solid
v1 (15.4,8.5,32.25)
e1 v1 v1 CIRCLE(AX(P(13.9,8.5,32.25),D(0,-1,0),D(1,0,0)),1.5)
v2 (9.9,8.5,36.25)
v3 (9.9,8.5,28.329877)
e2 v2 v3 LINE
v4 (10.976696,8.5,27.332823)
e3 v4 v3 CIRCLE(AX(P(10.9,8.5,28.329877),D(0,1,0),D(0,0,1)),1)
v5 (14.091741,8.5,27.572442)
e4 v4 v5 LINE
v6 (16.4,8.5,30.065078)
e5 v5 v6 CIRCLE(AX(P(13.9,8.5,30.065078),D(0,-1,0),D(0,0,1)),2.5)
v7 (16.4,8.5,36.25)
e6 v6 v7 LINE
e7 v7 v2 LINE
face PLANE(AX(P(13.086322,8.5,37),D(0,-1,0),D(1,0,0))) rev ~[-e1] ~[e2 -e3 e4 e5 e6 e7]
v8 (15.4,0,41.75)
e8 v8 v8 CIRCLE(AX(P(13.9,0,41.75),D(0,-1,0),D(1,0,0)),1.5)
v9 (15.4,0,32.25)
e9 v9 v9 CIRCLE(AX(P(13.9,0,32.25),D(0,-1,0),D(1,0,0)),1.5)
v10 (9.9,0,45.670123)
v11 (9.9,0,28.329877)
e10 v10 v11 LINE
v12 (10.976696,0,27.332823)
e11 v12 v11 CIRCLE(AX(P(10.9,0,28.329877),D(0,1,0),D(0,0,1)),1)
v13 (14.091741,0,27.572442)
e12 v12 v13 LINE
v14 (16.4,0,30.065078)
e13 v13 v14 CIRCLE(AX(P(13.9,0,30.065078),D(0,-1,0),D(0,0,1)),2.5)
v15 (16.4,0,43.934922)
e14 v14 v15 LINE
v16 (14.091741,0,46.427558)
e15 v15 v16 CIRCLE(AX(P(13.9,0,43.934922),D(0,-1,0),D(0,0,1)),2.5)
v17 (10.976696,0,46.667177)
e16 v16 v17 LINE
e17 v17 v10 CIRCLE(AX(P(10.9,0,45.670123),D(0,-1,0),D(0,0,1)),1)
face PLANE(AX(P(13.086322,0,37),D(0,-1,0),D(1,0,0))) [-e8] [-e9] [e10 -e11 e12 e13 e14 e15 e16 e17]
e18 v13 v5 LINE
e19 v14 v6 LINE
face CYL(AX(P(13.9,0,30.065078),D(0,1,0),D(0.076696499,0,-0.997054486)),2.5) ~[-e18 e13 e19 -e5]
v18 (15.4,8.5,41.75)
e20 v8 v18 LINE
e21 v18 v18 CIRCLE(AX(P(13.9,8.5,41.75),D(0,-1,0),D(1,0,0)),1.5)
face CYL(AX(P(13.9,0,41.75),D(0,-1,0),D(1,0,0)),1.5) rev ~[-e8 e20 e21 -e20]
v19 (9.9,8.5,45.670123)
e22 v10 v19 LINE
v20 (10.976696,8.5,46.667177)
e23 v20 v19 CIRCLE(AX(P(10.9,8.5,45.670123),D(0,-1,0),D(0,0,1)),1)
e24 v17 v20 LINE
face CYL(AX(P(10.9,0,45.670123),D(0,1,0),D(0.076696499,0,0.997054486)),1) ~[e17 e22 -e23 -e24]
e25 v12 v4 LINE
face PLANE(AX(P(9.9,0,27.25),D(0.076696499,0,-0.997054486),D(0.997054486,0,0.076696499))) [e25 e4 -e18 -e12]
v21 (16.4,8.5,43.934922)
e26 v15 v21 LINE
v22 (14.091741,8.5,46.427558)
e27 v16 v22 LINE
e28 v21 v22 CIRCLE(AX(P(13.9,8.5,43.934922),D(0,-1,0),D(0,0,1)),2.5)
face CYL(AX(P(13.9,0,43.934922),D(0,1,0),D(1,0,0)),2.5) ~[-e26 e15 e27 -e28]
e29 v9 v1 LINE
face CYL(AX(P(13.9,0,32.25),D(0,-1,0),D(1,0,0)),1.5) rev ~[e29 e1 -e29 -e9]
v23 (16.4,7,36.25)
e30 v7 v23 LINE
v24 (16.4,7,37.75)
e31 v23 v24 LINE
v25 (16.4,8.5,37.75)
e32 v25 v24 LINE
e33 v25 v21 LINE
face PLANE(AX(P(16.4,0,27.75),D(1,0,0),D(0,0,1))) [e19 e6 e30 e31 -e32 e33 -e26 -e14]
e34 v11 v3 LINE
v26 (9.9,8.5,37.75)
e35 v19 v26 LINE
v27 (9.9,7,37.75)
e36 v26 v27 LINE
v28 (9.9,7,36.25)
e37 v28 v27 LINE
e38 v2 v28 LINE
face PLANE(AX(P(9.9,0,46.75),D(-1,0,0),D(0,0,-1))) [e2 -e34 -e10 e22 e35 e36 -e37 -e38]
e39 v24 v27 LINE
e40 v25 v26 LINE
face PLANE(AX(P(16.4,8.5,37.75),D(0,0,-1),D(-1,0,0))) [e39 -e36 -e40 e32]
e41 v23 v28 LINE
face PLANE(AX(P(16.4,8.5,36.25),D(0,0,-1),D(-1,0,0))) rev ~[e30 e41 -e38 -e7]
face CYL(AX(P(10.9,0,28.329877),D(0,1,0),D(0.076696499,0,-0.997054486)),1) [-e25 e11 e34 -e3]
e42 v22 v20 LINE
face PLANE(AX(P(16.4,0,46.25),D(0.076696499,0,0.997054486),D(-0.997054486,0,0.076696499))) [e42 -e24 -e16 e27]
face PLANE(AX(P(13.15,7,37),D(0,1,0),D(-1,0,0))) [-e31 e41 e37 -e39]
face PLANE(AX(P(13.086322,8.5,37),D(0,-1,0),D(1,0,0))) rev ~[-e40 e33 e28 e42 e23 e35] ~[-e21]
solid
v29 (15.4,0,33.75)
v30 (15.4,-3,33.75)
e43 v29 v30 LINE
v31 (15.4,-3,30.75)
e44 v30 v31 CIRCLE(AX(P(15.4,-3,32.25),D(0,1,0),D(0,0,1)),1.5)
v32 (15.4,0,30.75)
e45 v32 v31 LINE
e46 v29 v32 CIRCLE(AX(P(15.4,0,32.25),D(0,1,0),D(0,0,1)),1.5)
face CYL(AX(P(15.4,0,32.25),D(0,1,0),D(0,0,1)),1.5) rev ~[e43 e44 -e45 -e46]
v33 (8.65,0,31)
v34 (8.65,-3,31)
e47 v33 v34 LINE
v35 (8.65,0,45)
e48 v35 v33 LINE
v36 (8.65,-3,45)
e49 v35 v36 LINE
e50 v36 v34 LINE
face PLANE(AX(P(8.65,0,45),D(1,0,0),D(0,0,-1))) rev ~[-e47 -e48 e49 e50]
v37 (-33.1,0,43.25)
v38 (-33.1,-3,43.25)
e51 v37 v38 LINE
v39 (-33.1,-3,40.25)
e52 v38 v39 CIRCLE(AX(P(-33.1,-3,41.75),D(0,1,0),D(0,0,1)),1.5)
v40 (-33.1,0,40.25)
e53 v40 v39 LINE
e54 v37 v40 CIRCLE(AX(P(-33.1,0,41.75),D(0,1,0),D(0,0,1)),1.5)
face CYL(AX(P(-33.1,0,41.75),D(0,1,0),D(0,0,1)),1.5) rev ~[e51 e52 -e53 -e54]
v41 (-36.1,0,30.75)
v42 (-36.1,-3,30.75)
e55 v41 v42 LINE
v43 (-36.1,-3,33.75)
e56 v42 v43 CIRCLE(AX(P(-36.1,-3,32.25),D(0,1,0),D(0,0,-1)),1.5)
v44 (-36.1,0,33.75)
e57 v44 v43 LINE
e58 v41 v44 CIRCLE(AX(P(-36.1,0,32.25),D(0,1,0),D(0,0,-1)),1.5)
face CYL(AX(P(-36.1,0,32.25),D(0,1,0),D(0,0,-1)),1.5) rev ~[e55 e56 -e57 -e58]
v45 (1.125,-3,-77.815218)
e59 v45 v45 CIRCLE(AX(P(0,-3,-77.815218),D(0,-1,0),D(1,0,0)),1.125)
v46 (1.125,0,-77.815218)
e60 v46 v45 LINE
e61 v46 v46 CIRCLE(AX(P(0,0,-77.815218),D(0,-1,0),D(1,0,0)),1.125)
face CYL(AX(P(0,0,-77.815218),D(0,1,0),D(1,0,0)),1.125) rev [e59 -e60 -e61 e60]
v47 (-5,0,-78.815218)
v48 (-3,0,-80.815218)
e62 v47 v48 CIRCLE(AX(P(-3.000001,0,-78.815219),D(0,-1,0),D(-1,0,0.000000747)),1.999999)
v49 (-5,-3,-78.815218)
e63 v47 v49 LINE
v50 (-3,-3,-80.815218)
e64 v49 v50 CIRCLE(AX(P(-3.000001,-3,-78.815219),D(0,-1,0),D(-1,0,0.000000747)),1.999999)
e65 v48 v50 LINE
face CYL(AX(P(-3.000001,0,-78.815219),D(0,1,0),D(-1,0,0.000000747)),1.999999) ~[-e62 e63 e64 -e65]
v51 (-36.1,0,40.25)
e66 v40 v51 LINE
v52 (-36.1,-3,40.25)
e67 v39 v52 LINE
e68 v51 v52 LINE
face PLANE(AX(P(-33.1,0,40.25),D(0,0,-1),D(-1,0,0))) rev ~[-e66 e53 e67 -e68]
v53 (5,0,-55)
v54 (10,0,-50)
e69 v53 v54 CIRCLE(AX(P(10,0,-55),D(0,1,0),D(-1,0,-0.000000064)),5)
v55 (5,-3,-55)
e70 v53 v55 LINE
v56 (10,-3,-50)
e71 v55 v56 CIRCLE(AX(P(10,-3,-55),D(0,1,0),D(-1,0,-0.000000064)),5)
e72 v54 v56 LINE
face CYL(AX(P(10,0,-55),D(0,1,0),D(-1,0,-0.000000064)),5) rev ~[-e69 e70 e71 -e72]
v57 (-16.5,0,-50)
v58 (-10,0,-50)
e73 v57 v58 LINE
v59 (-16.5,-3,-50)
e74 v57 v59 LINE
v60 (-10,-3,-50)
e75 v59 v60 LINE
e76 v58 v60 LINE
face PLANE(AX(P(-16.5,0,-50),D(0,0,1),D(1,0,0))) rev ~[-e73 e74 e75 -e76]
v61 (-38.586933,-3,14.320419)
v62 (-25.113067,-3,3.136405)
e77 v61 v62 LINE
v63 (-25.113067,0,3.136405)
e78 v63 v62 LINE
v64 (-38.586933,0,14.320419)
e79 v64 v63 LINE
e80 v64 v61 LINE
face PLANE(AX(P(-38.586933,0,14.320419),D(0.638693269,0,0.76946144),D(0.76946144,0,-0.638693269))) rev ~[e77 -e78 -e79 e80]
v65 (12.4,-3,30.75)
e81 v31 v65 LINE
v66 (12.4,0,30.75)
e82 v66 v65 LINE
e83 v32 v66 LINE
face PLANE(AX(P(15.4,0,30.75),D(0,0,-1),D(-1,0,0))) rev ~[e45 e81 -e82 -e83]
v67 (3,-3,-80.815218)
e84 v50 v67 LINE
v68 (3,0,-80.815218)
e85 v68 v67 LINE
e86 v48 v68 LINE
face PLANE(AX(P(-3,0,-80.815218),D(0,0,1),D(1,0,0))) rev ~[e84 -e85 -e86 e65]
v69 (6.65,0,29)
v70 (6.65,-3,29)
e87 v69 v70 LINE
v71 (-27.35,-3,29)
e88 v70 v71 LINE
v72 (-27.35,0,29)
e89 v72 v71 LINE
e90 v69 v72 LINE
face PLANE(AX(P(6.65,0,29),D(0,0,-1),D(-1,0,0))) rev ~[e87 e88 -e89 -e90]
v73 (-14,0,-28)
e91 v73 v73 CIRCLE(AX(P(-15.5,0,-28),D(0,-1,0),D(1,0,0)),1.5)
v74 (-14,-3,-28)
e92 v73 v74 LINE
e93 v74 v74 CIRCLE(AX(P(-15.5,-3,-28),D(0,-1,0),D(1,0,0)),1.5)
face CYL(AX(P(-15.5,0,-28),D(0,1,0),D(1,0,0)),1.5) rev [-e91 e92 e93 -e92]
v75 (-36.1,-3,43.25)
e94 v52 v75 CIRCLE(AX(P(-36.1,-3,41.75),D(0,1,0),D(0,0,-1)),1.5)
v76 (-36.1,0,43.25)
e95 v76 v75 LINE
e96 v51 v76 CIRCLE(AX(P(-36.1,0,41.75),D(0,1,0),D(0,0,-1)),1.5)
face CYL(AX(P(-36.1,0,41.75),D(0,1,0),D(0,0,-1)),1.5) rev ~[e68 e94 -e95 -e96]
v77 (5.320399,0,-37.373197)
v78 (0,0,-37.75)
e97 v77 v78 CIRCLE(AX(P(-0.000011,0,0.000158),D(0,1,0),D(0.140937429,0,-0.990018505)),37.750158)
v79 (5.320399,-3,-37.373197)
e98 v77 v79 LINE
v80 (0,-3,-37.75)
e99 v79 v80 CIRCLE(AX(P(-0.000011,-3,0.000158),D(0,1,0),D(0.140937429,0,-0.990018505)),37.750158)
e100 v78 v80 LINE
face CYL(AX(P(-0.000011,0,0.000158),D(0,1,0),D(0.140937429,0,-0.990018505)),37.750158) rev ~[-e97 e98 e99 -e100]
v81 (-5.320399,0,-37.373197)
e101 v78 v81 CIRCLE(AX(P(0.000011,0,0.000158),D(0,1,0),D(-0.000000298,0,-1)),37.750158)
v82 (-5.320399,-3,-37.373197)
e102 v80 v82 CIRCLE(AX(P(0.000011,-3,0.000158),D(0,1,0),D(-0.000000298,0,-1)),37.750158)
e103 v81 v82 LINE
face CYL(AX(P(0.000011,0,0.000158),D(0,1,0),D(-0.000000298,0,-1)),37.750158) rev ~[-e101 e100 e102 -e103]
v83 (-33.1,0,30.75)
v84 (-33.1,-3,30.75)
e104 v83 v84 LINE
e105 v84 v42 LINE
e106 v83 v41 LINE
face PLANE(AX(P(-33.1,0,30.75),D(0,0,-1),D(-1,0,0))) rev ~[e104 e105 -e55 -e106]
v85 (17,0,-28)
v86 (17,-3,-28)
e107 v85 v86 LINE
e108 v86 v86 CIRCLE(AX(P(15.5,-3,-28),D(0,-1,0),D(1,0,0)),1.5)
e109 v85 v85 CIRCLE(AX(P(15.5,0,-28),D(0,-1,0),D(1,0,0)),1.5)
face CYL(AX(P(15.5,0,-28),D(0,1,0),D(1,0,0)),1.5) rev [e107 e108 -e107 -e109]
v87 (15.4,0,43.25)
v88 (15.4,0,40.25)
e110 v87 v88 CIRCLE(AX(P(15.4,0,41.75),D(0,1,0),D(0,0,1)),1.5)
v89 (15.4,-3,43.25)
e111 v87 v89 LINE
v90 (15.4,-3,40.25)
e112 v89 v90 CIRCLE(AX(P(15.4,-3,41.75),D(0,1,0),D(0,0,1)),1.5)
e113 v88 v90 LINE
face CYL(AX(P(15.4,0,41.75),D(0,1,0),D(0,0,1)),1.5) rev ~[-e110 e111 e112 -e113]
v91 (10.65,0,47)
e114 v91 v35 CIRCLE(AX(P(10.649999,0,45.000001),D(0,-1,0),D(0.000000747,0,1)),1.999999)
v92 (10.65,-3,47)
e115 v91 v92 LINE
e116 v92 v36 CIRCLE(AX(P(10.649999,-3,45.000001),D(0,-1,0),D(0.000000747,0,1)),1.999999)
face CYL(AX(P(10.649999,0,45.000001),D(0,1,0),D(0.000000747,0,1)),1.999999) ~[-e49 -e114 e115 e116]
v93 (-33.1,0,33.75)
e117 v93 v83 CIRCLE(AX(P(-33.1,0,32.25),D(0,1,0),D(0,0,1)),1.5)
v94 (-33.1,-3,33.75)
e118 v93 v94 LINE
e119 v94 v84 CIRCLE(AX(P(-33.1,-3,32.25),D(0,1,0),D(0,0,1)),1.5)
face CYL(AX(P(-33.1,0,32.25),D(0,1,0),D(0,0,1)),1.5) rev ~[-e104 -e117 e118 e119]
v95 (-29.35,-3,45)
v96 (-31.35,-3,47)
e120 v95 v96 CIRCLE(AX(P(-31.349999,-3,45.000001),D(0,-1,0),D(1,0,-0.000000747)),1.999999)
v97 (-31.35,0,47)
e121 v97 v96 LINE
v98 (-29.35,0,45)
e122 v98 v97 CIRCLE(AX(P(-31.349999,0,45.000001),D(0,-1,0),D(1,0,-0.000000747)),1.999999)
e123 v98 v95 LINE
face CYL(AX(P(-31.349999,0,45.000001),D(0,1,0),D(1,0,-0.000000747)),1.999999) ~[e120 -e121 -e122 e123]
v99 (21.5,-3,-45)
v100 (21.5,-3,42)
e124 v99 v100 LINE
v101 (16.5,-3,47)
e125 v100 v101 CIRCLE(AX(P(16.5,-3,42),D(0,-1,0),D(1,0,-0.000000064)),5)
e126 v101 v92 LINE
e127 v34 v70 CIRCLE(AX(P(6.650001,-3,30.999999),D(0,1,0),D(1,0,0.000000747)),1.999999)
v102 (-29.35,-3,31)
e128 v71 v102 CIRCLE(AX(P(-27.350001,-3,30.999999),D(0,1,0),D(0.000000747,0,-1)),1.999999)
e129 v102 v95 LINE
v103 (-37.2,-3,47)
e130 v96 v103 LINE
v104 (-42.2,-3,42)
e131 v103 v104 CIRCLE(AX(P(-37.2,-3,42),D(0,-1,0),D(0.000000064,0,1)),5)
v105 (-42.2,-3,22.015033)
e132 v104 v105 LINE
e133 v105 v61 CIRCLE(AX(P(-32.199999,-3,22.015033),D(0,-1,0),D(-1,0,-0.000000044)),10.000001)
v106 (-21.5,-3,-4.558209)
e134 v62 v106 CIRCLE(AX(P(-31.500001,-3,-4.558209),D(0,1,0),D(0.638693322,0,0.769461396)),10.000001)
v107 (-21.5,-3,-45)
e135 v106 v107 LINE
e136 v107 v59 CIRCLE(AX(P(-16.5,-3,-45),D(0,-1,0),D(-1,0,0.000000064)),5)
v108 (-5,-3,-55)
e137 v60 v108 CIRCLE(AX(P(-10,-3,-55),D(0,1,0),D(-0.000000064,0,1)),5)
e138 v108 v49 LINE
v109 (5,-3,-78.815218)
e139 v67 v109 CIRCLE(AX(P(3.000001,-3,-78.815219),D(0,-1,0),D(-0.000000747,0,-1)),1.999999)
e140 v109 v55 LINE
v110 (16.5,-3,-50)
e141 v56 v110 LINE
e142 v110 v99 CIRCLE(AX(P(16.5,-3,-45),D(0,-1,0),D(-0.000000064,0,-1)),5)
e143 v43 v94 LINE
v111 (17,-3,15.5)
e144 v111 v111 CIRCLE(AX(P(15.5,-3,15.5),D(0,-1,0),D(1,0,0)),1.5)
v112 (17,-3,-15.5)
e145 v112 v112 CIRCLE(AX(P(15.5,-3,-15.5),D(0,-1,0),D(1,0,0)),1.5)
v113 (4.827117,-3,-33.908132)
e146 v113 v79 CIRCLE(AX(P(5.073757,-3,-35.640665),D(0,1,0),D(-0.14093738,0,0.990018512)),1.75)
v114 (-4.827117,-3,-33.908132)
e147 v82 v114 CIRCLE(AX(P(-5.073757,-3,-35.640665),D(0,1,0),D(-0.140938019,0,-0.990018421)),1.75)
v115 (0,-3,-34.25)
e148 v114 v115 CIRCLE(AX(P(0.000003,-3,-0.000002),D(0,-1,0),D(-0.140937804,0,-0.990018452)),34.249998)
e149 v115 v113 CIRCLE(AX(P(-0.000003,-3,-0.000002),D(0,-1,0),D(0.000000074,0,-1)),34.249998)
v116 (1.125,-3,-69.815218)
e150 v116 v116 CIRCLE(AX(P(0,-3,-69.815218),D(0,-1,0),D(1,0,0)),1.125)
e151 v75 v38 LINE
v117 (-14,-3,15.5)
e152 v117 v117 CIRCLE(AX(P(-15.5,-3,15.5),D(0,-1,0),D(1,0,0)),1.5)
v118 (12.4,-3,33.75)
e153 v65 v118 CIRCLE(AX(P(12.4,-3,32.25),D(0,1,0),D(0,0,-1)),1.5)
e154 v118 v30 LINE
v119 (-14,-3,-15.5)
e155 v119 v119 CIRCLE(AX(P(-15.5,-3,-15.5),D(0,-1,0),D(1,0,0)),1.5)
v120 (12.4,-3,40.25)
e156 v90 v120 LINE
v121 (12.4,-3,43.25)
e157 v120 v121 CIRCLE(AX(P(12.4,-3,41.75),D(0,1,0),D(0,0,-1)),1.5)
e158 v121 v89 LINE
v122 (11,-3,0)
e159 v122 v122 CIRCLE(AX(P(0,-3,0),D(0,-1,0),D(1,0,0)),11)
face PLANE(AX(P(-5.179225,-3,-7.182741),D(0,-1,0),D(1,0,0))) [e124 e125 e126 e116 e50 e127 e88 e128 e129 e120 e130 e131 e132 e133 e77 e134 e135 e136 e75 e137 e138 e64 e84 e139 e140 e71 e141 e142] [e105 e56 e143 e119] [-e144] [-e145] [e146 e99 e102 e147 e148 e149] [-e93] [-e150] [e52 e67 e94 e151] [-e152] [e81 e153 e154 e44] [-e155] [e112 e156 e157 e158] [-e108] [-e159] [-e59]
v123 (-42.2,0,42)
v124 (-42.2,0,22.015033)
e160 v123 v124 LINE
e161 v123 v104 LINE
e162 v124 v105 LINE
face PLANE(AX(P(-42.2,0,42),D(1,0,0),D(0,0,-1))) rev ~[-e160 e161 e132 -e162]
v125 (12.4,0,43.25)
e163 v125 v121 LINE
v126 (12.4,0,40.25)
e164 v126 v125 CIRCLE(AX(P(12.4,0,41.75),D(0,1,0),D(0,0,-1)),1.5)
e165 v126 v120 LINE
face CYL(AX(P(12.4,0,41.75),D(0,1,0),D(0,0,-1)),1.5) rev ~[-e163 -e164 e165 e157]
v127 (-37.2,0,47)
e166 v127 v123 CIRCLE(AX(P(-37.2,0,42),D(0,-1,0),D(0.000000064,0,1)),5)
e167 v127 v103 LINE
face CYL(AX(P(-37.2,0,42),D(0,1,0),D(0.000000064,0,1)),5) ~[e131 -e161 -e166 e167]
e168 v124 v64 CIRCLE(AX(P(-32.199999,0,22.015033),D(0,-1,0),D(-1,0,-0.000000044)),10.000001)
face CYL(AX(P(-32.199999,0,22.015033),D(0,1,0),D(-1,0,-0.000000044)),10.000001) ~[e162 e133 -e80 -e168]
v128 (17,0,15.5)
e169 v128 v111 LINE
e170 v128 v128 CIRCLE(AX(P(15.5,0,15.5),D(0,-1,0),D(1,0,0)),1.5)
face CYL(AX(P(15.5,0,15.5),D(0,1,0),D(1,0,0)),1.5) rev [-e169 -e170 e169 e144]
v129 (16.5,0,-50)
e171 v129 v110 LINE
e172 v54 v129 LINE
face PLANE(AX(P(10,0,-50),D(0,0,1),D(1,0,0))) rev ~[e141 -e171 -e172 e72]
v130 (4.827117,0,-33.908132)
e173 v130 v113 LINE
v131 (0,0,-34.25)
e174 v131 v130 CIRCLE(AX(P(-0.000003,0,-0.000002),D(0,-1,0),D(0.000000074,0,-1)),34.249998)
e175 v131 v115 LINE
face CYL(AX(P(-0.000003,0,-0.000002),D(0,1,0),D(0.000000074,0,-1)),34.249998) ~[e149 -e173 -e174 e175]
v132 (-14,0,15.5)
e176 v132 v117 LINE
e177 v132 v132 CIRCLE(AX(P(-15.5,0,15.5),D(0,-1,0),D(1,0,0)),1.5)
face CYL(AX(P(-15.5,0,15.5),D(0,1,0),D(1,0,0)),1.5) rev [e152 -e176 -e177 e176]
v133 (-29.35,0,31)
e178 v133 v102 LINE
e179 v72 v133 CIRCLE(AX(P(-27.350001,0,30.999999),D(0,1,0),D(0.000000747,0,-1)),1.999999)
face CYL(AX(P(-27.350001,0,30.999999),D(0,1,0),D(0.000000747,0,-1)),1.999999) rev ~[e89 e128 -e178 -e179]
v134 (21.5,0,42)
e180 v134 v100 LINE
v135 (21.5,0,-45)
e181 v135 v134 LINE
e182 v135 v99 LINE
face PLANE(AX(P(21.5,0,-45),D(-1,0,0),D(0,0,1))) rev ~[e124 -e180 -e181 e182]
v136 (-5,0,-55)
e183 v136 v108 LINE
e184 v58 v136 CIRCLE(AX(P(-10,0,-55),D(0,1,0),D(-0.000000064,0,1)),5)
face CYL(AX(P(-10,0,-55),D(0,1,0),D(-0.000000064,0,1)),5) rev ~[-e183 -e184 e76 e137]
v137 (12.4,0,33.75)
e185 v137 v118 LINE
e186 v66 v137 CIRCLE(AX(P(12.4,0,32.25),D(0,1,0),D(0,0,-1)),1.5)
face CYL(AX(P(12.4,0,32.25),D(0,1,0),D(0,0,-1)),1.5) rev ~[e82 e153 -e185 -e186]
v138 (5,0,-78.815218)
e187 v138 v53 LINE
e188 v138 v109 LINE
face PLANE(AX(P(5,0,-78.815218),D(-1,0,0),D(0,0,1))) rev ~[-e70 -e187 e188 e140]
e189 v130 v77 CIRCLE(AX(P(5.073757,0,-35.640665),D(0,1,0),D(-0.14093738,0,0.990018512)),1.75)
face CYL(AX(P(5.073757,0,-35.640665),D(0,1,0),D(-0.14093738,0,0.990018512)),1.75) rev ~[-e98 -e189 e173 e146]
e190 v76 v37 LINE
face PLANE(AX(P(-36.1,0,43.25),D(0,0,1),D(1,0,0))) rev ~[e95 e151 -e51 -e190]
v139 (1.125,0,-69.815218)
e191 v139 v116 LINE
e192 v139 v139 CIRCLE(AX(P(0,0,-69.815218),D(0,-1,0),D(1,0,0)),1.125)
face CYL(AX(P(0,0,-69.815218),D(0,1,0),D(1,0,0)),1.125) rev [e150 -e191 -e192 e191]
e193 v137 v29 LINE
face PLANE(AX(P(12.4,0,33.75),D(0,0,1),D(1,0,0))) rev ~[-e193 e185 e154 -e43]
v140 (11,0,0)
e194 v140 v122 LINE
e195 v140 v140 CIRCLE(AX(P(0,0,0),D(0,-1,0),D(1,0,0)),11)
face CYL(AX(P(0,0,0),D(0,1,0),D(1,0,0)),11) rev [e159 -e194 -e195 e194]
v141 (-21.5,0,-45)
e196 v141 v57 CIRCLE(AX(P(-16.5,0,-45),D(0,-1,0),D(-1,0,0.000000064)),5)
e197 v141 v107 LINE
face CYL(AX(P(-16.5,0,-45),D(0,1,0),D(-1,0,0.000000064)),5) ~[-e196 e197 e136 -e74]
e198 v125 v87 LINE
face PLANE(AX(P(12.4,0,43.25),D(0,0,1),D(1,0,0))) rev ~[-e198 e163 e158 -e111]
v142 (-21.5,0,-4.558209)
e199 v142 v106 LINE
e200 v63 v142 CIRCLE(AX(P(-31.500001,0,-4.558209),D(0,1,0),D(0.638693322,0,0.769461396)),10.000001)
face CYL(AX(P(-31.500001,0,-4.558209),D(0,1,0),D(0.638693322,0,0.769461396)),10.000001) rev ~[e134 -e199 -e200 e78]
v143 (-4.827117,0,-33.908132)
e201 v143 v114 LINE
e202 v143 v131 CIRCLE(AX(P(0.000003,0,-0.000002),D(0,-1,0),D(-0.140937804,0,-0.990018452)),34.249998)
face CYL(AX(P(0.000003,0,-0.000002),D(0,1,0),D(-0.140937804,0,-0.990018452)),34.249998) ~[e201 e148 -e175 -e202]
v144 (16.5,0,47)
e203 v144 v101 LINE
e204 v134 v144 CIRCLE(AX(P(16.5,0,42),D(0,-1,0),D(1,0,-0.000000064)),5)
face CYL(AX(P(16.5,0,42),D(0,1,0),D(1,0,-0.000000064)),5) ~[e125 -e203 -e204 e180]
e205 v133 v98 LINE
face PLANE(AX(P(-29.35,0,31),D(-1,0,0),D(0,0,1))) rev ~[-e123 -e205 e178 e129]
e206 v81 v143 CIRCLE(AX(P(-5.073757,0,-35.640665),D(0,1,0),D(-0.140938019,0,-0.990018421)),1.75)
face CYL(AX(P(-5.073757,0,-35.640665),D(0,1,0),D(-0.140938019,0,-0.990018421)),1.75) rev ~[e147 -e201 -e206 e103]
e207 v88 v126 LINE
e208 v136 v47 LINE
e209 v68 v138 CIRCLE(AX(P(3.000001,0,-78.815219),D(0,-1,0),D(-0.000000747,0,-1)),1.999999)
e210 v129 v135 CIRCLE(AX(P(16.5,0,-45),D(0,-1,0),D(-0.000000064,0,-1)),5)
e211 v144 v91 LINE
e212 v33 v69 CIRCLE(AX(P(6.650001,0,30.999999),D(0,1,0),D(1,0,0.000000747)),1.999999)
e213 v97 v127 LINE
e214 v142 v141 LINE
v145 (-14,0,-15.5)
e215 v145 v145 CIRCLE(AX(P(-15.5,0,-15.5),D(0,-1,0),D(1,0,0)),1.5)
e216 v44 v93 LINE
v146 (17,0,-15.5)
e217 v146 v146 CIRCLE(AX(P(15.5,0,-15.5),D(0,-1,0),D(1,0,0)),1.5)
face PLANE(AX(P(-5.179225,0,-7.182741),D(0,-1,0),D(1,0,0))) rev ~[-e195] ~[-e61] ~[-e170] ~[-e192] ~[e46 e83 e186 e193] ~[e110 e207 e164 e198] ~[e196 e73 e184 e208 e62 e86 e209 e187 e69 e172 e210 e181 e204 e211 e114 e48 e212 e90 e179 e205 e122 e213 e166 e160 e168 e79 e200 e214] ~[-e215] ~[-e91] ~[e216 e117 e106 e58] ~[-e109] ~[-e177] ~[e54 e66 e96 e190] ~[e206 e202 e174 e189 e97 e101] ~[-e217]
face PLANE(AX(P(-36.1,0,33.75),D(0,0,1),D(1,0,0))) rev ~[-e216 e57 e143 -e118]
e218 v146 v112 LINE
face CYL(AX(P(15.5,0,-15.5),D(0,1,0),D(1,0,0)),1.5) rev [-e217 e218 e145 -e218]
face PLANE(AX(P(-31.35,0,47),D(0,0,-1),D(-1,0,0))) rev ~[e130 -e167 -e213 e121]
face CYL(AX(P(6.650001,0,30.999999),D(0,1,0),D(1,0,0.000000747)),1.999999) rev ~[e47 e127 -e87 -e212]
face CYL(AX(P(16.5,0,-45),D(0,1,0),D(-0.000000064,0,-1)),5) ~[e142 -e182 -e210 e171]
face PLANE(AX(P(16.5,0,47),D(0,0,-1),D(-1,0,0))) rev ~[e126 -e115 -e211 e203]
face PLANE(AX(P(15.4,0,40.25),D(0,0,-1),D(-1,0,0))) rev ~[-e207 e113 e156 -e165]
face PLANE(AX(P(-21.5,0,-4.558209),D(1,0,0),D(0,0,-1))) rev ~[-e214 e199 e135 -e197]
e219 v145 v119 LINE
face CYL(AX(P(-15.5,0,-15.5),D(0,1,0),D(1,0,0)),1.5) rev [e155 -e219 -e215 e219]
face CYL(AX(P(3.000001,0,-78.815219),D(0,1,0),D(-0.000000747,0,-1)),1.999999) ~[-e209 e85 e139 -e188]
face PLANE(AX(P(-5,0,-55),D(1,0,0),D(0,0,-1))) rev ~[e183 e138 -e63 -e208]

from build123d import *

# Parameters (mm, degrees)
F1_R     = 1.5
F1_R_2   = 1.125
F1_R_3   = 11
F2_DEPTH = 3
F3_R     = 1.5
F4_DEPTH = 8.5
F5_W     = 6.5
F5_H     = 1.5
F6_DEPTH = 1.5
F7_R     = 1
F8_R     = 2.5


with BuildPart() as f2:
    # F1 (on Front) → F2 (new body)
    with BuildSketch(Plane.XZ):
        with BuildLine():
            ThreePointArc((16.5, -50), (20.035534, -48.535534), (21.5, -45))
            Line((21.5, -45), (21.5, 42))
            ThreePointArc((21.5, 42), (20.035534, 45.535534), (16.5, 47))
            Line((16.5, 47), (10.65, 47))
            ThreePointArc((10.65, 47), (9.235786, 46.414214), (8.65, 45))
            Line((8.65, 45), (8.65, 31))
            ThreePointArc((8.65, 31), (8.064214, 29.585786), (6.65, 29))
            Line((6.65, 29), (-27.35, 29))
            ThreePointArc((-27.35, 29), (-28.764214, 29.585786), (-29.35, 31))
            Line((-29.35, 31), (-29.35, 45))
            ThreePointArc((-29.35, 45), (-29.935786, 46.414214), (-31.35, 47))
            Line((-31.35, 47), (-37.2, 47))
            ThreePointArc((-37.2, 47), (-40.735534, 45.535534), (-42.2, 42))
            Line((-42.2, 42), (-42.2, 22.015033))
            ThreePointArc((-42.2, 22.015033), (-41.251777, 17.7647), (-38.586933, 14.320419))
            Line((-38.586933, 14.320419), (-25.113067, 3.136405))
            ThreePointArc((-25.113067, 3.136405), (-22.448223, -0.307876), (-21.5, -4.558209))
            Line((-21.5, -4.558209), (-21.5, -45))
            ThreePointArc((-21.5, -45), (-20.035534, -48.535534), (-16.5, -50))
            Line((-16.5, -50), (-10, -50))
            ThreePointArc((-10, -50), (-6.464466, -51.464466), (-5, -55))
            Line((-5, -55), (-5, -78.815218))
            ThreePointArc((-5, -78.815218), (-4.414214, -80.229432), (-3, -80.815218))
            Line((-3, -80.815218), (3, -80.815218))
            ThreePointArc((3, -80.815218), (4.414214, -80.229432), (5, -78.815218))
            Line((5, -78.815218), (5, -55))
            ThreePointArc((5, -55), (6.464466, -51.464466), (10, -50))
            Line((10, -50), (16.5, -50))
        make_face()
        with Locations((-15.5, -28)):
            Circle(F1_R, mode=Mode.SUBTRACT)
        with Locations((0, -77.815218)):
            Circle(F1_R_2, mode=Mode.SUBTRACT)
        with Locations((0, -69.815218)):
            Circle(F1_R_2, mode=Mode.SUBTRACT)
        with BuildLine():
            ThreePointArc((0, -34.25), (2.419604, -34.164426), (4.827117, -33.908132))
            ThreePointArc((4.827117, -33.908132), (6.80629, -35.394024), (5.320399, -37.373197))
            ThreePointArc((5.320399, -37.373197), (2.666863, -37.655681), (0, -37.75))
            ThreePointArc((0, -37.75), (-2.666863, -37.655681), (-5.320399, -37.373197))
            ThreePointArc((-5.320399, -37.373197), (-6.80629, -35.394024), (-4.827117, -33.908132))
            ThreePointArc((-4.827117, -33.908132), (-2.419604, -34.164426), (0, -34.25))
        make_face(mode=Mode.SUBTRACT)
        with Locations((15.5, -28)):
            Circle(F1_R, mode=Mode.SUBTRACT)
        with Locations((-15.5, -15.5)):
            Circle(F1_R, mode=Mode.SUBTRACT)
        with BuildLine():
            ThreePointArc((-36.1, 30.75), (-37.6, 32.25), (-36.1, 33.75))
            Line((-36.1, 33.75), (-33.1, 33.75))
            ThreePointArc((-33.1, 33.75), (-31.6, 32.25), (-33.1, 30.75))
            Line((-33.1, 30.75), (-36.1, 30.75))
        make_face(mode=Mode.SUBTRACT)
        with BuildLine():
            Line((-33.1, 40.25), (-36.1, 40.25))
            ThreePointArc((-36.1, 40.25), (-37.6, 41.75), (-36.1, 43.25))
            Line((-36.1, 43.25), (-33.1, 43.25))
            ThreePointArc((-33.1, 43.25), (-31.6, 41.75), (-33.1, 40.25))
        make_face(mode=Mode.SUBTRACT)
        with Locations((-15.5, 15.5)):
            Circle(F1_R, mode=Mode.SUBTRACT)
        Circle(F1_R_3, mode=Mode.SUBTRACT)
        with Locations((15.5, -15.5)):
            Circle(F1_R, mode=Mode.SUBTRACT)
        with Locations((15.5, 15.5)):
            Circle(F1_R, mode=Mode.SUBTRACT)
        with BuildLine():
            Line((15.4, 30.75), (12.4, 30.75))
            ThreePointArc((12.4, 30.75), (10.9, 32.25), (12.4, 33.75))
            Line((12.4, 33.75), (15.4, 33.75))
            ThreePointArc((15.4, 33.75), (16.9, 32.25), (15.4, 30.75))
        make_face(mode=Mode.SUBTRACT)
        with BuildLine():
            Line((15.4, 40.25), (12.4, 40.25))
            ThreePointArc((12.4, 40.25), (10.9, 41.75), (12.4, 43.25))
            Line((12.4, 43.25), (15.4, 43.25))
            ThreePointArc((15.4, 43.25), (16.9, 41.75), (15.4, 40.25))
        make_face(mode=Mode.SUBTRACT)
    extrude(amount=F2_DEPTH)


with BuildPart() as f4:
    # F3 (on Front) → F4 (new body)
    with BuildSketch(Plane.XZ):
        Polygon((16.4, 27.75), (16.4, 46.25), (9.9, 46.75), (9.9, 27.25), align=None)
        with Locations((13.9, 32.25)):
            Circle(F3_R, mode=Mode.SUBTRACT)
        with Locations((13.9, 41.75)):
            Circle(F3_R, mode=Mode.SUBTRACT)
    extrude(amount=-F4_DEPTH)

    # F5 (on face) → F6 (cut)
    with BuildSketch(Plane(origin=(0, 8.5, 0), x_dir=(-1, 0, 0), z_dir=(0, 1, 0))):
        with Locations((-13.15, 37)):
            Rectangle(F5_W, F5_H)
    extrude(amount=-F6_DEPTH, mode=Mode.SUBTRACT)

    # F7
    f7_edges = [f4.edges().sort_by_distance(p)[0] for p in [
        (9.9, 4.25, 46.75),
        (9.9, 4.25, 27.25),
    ]]
    fillet(f7_edges, radius=F7_R)

    # F8
    f8_edges = [f4.edges().sort_by_distance(p)[0] for p in [
        (16.4, 4.25, 27.75),
        (16.4, 4.25, 46.25),
    ]]
    fillet(f8_edges, radius=F8_R)


solid = Compound([f2.part, f4.part])
